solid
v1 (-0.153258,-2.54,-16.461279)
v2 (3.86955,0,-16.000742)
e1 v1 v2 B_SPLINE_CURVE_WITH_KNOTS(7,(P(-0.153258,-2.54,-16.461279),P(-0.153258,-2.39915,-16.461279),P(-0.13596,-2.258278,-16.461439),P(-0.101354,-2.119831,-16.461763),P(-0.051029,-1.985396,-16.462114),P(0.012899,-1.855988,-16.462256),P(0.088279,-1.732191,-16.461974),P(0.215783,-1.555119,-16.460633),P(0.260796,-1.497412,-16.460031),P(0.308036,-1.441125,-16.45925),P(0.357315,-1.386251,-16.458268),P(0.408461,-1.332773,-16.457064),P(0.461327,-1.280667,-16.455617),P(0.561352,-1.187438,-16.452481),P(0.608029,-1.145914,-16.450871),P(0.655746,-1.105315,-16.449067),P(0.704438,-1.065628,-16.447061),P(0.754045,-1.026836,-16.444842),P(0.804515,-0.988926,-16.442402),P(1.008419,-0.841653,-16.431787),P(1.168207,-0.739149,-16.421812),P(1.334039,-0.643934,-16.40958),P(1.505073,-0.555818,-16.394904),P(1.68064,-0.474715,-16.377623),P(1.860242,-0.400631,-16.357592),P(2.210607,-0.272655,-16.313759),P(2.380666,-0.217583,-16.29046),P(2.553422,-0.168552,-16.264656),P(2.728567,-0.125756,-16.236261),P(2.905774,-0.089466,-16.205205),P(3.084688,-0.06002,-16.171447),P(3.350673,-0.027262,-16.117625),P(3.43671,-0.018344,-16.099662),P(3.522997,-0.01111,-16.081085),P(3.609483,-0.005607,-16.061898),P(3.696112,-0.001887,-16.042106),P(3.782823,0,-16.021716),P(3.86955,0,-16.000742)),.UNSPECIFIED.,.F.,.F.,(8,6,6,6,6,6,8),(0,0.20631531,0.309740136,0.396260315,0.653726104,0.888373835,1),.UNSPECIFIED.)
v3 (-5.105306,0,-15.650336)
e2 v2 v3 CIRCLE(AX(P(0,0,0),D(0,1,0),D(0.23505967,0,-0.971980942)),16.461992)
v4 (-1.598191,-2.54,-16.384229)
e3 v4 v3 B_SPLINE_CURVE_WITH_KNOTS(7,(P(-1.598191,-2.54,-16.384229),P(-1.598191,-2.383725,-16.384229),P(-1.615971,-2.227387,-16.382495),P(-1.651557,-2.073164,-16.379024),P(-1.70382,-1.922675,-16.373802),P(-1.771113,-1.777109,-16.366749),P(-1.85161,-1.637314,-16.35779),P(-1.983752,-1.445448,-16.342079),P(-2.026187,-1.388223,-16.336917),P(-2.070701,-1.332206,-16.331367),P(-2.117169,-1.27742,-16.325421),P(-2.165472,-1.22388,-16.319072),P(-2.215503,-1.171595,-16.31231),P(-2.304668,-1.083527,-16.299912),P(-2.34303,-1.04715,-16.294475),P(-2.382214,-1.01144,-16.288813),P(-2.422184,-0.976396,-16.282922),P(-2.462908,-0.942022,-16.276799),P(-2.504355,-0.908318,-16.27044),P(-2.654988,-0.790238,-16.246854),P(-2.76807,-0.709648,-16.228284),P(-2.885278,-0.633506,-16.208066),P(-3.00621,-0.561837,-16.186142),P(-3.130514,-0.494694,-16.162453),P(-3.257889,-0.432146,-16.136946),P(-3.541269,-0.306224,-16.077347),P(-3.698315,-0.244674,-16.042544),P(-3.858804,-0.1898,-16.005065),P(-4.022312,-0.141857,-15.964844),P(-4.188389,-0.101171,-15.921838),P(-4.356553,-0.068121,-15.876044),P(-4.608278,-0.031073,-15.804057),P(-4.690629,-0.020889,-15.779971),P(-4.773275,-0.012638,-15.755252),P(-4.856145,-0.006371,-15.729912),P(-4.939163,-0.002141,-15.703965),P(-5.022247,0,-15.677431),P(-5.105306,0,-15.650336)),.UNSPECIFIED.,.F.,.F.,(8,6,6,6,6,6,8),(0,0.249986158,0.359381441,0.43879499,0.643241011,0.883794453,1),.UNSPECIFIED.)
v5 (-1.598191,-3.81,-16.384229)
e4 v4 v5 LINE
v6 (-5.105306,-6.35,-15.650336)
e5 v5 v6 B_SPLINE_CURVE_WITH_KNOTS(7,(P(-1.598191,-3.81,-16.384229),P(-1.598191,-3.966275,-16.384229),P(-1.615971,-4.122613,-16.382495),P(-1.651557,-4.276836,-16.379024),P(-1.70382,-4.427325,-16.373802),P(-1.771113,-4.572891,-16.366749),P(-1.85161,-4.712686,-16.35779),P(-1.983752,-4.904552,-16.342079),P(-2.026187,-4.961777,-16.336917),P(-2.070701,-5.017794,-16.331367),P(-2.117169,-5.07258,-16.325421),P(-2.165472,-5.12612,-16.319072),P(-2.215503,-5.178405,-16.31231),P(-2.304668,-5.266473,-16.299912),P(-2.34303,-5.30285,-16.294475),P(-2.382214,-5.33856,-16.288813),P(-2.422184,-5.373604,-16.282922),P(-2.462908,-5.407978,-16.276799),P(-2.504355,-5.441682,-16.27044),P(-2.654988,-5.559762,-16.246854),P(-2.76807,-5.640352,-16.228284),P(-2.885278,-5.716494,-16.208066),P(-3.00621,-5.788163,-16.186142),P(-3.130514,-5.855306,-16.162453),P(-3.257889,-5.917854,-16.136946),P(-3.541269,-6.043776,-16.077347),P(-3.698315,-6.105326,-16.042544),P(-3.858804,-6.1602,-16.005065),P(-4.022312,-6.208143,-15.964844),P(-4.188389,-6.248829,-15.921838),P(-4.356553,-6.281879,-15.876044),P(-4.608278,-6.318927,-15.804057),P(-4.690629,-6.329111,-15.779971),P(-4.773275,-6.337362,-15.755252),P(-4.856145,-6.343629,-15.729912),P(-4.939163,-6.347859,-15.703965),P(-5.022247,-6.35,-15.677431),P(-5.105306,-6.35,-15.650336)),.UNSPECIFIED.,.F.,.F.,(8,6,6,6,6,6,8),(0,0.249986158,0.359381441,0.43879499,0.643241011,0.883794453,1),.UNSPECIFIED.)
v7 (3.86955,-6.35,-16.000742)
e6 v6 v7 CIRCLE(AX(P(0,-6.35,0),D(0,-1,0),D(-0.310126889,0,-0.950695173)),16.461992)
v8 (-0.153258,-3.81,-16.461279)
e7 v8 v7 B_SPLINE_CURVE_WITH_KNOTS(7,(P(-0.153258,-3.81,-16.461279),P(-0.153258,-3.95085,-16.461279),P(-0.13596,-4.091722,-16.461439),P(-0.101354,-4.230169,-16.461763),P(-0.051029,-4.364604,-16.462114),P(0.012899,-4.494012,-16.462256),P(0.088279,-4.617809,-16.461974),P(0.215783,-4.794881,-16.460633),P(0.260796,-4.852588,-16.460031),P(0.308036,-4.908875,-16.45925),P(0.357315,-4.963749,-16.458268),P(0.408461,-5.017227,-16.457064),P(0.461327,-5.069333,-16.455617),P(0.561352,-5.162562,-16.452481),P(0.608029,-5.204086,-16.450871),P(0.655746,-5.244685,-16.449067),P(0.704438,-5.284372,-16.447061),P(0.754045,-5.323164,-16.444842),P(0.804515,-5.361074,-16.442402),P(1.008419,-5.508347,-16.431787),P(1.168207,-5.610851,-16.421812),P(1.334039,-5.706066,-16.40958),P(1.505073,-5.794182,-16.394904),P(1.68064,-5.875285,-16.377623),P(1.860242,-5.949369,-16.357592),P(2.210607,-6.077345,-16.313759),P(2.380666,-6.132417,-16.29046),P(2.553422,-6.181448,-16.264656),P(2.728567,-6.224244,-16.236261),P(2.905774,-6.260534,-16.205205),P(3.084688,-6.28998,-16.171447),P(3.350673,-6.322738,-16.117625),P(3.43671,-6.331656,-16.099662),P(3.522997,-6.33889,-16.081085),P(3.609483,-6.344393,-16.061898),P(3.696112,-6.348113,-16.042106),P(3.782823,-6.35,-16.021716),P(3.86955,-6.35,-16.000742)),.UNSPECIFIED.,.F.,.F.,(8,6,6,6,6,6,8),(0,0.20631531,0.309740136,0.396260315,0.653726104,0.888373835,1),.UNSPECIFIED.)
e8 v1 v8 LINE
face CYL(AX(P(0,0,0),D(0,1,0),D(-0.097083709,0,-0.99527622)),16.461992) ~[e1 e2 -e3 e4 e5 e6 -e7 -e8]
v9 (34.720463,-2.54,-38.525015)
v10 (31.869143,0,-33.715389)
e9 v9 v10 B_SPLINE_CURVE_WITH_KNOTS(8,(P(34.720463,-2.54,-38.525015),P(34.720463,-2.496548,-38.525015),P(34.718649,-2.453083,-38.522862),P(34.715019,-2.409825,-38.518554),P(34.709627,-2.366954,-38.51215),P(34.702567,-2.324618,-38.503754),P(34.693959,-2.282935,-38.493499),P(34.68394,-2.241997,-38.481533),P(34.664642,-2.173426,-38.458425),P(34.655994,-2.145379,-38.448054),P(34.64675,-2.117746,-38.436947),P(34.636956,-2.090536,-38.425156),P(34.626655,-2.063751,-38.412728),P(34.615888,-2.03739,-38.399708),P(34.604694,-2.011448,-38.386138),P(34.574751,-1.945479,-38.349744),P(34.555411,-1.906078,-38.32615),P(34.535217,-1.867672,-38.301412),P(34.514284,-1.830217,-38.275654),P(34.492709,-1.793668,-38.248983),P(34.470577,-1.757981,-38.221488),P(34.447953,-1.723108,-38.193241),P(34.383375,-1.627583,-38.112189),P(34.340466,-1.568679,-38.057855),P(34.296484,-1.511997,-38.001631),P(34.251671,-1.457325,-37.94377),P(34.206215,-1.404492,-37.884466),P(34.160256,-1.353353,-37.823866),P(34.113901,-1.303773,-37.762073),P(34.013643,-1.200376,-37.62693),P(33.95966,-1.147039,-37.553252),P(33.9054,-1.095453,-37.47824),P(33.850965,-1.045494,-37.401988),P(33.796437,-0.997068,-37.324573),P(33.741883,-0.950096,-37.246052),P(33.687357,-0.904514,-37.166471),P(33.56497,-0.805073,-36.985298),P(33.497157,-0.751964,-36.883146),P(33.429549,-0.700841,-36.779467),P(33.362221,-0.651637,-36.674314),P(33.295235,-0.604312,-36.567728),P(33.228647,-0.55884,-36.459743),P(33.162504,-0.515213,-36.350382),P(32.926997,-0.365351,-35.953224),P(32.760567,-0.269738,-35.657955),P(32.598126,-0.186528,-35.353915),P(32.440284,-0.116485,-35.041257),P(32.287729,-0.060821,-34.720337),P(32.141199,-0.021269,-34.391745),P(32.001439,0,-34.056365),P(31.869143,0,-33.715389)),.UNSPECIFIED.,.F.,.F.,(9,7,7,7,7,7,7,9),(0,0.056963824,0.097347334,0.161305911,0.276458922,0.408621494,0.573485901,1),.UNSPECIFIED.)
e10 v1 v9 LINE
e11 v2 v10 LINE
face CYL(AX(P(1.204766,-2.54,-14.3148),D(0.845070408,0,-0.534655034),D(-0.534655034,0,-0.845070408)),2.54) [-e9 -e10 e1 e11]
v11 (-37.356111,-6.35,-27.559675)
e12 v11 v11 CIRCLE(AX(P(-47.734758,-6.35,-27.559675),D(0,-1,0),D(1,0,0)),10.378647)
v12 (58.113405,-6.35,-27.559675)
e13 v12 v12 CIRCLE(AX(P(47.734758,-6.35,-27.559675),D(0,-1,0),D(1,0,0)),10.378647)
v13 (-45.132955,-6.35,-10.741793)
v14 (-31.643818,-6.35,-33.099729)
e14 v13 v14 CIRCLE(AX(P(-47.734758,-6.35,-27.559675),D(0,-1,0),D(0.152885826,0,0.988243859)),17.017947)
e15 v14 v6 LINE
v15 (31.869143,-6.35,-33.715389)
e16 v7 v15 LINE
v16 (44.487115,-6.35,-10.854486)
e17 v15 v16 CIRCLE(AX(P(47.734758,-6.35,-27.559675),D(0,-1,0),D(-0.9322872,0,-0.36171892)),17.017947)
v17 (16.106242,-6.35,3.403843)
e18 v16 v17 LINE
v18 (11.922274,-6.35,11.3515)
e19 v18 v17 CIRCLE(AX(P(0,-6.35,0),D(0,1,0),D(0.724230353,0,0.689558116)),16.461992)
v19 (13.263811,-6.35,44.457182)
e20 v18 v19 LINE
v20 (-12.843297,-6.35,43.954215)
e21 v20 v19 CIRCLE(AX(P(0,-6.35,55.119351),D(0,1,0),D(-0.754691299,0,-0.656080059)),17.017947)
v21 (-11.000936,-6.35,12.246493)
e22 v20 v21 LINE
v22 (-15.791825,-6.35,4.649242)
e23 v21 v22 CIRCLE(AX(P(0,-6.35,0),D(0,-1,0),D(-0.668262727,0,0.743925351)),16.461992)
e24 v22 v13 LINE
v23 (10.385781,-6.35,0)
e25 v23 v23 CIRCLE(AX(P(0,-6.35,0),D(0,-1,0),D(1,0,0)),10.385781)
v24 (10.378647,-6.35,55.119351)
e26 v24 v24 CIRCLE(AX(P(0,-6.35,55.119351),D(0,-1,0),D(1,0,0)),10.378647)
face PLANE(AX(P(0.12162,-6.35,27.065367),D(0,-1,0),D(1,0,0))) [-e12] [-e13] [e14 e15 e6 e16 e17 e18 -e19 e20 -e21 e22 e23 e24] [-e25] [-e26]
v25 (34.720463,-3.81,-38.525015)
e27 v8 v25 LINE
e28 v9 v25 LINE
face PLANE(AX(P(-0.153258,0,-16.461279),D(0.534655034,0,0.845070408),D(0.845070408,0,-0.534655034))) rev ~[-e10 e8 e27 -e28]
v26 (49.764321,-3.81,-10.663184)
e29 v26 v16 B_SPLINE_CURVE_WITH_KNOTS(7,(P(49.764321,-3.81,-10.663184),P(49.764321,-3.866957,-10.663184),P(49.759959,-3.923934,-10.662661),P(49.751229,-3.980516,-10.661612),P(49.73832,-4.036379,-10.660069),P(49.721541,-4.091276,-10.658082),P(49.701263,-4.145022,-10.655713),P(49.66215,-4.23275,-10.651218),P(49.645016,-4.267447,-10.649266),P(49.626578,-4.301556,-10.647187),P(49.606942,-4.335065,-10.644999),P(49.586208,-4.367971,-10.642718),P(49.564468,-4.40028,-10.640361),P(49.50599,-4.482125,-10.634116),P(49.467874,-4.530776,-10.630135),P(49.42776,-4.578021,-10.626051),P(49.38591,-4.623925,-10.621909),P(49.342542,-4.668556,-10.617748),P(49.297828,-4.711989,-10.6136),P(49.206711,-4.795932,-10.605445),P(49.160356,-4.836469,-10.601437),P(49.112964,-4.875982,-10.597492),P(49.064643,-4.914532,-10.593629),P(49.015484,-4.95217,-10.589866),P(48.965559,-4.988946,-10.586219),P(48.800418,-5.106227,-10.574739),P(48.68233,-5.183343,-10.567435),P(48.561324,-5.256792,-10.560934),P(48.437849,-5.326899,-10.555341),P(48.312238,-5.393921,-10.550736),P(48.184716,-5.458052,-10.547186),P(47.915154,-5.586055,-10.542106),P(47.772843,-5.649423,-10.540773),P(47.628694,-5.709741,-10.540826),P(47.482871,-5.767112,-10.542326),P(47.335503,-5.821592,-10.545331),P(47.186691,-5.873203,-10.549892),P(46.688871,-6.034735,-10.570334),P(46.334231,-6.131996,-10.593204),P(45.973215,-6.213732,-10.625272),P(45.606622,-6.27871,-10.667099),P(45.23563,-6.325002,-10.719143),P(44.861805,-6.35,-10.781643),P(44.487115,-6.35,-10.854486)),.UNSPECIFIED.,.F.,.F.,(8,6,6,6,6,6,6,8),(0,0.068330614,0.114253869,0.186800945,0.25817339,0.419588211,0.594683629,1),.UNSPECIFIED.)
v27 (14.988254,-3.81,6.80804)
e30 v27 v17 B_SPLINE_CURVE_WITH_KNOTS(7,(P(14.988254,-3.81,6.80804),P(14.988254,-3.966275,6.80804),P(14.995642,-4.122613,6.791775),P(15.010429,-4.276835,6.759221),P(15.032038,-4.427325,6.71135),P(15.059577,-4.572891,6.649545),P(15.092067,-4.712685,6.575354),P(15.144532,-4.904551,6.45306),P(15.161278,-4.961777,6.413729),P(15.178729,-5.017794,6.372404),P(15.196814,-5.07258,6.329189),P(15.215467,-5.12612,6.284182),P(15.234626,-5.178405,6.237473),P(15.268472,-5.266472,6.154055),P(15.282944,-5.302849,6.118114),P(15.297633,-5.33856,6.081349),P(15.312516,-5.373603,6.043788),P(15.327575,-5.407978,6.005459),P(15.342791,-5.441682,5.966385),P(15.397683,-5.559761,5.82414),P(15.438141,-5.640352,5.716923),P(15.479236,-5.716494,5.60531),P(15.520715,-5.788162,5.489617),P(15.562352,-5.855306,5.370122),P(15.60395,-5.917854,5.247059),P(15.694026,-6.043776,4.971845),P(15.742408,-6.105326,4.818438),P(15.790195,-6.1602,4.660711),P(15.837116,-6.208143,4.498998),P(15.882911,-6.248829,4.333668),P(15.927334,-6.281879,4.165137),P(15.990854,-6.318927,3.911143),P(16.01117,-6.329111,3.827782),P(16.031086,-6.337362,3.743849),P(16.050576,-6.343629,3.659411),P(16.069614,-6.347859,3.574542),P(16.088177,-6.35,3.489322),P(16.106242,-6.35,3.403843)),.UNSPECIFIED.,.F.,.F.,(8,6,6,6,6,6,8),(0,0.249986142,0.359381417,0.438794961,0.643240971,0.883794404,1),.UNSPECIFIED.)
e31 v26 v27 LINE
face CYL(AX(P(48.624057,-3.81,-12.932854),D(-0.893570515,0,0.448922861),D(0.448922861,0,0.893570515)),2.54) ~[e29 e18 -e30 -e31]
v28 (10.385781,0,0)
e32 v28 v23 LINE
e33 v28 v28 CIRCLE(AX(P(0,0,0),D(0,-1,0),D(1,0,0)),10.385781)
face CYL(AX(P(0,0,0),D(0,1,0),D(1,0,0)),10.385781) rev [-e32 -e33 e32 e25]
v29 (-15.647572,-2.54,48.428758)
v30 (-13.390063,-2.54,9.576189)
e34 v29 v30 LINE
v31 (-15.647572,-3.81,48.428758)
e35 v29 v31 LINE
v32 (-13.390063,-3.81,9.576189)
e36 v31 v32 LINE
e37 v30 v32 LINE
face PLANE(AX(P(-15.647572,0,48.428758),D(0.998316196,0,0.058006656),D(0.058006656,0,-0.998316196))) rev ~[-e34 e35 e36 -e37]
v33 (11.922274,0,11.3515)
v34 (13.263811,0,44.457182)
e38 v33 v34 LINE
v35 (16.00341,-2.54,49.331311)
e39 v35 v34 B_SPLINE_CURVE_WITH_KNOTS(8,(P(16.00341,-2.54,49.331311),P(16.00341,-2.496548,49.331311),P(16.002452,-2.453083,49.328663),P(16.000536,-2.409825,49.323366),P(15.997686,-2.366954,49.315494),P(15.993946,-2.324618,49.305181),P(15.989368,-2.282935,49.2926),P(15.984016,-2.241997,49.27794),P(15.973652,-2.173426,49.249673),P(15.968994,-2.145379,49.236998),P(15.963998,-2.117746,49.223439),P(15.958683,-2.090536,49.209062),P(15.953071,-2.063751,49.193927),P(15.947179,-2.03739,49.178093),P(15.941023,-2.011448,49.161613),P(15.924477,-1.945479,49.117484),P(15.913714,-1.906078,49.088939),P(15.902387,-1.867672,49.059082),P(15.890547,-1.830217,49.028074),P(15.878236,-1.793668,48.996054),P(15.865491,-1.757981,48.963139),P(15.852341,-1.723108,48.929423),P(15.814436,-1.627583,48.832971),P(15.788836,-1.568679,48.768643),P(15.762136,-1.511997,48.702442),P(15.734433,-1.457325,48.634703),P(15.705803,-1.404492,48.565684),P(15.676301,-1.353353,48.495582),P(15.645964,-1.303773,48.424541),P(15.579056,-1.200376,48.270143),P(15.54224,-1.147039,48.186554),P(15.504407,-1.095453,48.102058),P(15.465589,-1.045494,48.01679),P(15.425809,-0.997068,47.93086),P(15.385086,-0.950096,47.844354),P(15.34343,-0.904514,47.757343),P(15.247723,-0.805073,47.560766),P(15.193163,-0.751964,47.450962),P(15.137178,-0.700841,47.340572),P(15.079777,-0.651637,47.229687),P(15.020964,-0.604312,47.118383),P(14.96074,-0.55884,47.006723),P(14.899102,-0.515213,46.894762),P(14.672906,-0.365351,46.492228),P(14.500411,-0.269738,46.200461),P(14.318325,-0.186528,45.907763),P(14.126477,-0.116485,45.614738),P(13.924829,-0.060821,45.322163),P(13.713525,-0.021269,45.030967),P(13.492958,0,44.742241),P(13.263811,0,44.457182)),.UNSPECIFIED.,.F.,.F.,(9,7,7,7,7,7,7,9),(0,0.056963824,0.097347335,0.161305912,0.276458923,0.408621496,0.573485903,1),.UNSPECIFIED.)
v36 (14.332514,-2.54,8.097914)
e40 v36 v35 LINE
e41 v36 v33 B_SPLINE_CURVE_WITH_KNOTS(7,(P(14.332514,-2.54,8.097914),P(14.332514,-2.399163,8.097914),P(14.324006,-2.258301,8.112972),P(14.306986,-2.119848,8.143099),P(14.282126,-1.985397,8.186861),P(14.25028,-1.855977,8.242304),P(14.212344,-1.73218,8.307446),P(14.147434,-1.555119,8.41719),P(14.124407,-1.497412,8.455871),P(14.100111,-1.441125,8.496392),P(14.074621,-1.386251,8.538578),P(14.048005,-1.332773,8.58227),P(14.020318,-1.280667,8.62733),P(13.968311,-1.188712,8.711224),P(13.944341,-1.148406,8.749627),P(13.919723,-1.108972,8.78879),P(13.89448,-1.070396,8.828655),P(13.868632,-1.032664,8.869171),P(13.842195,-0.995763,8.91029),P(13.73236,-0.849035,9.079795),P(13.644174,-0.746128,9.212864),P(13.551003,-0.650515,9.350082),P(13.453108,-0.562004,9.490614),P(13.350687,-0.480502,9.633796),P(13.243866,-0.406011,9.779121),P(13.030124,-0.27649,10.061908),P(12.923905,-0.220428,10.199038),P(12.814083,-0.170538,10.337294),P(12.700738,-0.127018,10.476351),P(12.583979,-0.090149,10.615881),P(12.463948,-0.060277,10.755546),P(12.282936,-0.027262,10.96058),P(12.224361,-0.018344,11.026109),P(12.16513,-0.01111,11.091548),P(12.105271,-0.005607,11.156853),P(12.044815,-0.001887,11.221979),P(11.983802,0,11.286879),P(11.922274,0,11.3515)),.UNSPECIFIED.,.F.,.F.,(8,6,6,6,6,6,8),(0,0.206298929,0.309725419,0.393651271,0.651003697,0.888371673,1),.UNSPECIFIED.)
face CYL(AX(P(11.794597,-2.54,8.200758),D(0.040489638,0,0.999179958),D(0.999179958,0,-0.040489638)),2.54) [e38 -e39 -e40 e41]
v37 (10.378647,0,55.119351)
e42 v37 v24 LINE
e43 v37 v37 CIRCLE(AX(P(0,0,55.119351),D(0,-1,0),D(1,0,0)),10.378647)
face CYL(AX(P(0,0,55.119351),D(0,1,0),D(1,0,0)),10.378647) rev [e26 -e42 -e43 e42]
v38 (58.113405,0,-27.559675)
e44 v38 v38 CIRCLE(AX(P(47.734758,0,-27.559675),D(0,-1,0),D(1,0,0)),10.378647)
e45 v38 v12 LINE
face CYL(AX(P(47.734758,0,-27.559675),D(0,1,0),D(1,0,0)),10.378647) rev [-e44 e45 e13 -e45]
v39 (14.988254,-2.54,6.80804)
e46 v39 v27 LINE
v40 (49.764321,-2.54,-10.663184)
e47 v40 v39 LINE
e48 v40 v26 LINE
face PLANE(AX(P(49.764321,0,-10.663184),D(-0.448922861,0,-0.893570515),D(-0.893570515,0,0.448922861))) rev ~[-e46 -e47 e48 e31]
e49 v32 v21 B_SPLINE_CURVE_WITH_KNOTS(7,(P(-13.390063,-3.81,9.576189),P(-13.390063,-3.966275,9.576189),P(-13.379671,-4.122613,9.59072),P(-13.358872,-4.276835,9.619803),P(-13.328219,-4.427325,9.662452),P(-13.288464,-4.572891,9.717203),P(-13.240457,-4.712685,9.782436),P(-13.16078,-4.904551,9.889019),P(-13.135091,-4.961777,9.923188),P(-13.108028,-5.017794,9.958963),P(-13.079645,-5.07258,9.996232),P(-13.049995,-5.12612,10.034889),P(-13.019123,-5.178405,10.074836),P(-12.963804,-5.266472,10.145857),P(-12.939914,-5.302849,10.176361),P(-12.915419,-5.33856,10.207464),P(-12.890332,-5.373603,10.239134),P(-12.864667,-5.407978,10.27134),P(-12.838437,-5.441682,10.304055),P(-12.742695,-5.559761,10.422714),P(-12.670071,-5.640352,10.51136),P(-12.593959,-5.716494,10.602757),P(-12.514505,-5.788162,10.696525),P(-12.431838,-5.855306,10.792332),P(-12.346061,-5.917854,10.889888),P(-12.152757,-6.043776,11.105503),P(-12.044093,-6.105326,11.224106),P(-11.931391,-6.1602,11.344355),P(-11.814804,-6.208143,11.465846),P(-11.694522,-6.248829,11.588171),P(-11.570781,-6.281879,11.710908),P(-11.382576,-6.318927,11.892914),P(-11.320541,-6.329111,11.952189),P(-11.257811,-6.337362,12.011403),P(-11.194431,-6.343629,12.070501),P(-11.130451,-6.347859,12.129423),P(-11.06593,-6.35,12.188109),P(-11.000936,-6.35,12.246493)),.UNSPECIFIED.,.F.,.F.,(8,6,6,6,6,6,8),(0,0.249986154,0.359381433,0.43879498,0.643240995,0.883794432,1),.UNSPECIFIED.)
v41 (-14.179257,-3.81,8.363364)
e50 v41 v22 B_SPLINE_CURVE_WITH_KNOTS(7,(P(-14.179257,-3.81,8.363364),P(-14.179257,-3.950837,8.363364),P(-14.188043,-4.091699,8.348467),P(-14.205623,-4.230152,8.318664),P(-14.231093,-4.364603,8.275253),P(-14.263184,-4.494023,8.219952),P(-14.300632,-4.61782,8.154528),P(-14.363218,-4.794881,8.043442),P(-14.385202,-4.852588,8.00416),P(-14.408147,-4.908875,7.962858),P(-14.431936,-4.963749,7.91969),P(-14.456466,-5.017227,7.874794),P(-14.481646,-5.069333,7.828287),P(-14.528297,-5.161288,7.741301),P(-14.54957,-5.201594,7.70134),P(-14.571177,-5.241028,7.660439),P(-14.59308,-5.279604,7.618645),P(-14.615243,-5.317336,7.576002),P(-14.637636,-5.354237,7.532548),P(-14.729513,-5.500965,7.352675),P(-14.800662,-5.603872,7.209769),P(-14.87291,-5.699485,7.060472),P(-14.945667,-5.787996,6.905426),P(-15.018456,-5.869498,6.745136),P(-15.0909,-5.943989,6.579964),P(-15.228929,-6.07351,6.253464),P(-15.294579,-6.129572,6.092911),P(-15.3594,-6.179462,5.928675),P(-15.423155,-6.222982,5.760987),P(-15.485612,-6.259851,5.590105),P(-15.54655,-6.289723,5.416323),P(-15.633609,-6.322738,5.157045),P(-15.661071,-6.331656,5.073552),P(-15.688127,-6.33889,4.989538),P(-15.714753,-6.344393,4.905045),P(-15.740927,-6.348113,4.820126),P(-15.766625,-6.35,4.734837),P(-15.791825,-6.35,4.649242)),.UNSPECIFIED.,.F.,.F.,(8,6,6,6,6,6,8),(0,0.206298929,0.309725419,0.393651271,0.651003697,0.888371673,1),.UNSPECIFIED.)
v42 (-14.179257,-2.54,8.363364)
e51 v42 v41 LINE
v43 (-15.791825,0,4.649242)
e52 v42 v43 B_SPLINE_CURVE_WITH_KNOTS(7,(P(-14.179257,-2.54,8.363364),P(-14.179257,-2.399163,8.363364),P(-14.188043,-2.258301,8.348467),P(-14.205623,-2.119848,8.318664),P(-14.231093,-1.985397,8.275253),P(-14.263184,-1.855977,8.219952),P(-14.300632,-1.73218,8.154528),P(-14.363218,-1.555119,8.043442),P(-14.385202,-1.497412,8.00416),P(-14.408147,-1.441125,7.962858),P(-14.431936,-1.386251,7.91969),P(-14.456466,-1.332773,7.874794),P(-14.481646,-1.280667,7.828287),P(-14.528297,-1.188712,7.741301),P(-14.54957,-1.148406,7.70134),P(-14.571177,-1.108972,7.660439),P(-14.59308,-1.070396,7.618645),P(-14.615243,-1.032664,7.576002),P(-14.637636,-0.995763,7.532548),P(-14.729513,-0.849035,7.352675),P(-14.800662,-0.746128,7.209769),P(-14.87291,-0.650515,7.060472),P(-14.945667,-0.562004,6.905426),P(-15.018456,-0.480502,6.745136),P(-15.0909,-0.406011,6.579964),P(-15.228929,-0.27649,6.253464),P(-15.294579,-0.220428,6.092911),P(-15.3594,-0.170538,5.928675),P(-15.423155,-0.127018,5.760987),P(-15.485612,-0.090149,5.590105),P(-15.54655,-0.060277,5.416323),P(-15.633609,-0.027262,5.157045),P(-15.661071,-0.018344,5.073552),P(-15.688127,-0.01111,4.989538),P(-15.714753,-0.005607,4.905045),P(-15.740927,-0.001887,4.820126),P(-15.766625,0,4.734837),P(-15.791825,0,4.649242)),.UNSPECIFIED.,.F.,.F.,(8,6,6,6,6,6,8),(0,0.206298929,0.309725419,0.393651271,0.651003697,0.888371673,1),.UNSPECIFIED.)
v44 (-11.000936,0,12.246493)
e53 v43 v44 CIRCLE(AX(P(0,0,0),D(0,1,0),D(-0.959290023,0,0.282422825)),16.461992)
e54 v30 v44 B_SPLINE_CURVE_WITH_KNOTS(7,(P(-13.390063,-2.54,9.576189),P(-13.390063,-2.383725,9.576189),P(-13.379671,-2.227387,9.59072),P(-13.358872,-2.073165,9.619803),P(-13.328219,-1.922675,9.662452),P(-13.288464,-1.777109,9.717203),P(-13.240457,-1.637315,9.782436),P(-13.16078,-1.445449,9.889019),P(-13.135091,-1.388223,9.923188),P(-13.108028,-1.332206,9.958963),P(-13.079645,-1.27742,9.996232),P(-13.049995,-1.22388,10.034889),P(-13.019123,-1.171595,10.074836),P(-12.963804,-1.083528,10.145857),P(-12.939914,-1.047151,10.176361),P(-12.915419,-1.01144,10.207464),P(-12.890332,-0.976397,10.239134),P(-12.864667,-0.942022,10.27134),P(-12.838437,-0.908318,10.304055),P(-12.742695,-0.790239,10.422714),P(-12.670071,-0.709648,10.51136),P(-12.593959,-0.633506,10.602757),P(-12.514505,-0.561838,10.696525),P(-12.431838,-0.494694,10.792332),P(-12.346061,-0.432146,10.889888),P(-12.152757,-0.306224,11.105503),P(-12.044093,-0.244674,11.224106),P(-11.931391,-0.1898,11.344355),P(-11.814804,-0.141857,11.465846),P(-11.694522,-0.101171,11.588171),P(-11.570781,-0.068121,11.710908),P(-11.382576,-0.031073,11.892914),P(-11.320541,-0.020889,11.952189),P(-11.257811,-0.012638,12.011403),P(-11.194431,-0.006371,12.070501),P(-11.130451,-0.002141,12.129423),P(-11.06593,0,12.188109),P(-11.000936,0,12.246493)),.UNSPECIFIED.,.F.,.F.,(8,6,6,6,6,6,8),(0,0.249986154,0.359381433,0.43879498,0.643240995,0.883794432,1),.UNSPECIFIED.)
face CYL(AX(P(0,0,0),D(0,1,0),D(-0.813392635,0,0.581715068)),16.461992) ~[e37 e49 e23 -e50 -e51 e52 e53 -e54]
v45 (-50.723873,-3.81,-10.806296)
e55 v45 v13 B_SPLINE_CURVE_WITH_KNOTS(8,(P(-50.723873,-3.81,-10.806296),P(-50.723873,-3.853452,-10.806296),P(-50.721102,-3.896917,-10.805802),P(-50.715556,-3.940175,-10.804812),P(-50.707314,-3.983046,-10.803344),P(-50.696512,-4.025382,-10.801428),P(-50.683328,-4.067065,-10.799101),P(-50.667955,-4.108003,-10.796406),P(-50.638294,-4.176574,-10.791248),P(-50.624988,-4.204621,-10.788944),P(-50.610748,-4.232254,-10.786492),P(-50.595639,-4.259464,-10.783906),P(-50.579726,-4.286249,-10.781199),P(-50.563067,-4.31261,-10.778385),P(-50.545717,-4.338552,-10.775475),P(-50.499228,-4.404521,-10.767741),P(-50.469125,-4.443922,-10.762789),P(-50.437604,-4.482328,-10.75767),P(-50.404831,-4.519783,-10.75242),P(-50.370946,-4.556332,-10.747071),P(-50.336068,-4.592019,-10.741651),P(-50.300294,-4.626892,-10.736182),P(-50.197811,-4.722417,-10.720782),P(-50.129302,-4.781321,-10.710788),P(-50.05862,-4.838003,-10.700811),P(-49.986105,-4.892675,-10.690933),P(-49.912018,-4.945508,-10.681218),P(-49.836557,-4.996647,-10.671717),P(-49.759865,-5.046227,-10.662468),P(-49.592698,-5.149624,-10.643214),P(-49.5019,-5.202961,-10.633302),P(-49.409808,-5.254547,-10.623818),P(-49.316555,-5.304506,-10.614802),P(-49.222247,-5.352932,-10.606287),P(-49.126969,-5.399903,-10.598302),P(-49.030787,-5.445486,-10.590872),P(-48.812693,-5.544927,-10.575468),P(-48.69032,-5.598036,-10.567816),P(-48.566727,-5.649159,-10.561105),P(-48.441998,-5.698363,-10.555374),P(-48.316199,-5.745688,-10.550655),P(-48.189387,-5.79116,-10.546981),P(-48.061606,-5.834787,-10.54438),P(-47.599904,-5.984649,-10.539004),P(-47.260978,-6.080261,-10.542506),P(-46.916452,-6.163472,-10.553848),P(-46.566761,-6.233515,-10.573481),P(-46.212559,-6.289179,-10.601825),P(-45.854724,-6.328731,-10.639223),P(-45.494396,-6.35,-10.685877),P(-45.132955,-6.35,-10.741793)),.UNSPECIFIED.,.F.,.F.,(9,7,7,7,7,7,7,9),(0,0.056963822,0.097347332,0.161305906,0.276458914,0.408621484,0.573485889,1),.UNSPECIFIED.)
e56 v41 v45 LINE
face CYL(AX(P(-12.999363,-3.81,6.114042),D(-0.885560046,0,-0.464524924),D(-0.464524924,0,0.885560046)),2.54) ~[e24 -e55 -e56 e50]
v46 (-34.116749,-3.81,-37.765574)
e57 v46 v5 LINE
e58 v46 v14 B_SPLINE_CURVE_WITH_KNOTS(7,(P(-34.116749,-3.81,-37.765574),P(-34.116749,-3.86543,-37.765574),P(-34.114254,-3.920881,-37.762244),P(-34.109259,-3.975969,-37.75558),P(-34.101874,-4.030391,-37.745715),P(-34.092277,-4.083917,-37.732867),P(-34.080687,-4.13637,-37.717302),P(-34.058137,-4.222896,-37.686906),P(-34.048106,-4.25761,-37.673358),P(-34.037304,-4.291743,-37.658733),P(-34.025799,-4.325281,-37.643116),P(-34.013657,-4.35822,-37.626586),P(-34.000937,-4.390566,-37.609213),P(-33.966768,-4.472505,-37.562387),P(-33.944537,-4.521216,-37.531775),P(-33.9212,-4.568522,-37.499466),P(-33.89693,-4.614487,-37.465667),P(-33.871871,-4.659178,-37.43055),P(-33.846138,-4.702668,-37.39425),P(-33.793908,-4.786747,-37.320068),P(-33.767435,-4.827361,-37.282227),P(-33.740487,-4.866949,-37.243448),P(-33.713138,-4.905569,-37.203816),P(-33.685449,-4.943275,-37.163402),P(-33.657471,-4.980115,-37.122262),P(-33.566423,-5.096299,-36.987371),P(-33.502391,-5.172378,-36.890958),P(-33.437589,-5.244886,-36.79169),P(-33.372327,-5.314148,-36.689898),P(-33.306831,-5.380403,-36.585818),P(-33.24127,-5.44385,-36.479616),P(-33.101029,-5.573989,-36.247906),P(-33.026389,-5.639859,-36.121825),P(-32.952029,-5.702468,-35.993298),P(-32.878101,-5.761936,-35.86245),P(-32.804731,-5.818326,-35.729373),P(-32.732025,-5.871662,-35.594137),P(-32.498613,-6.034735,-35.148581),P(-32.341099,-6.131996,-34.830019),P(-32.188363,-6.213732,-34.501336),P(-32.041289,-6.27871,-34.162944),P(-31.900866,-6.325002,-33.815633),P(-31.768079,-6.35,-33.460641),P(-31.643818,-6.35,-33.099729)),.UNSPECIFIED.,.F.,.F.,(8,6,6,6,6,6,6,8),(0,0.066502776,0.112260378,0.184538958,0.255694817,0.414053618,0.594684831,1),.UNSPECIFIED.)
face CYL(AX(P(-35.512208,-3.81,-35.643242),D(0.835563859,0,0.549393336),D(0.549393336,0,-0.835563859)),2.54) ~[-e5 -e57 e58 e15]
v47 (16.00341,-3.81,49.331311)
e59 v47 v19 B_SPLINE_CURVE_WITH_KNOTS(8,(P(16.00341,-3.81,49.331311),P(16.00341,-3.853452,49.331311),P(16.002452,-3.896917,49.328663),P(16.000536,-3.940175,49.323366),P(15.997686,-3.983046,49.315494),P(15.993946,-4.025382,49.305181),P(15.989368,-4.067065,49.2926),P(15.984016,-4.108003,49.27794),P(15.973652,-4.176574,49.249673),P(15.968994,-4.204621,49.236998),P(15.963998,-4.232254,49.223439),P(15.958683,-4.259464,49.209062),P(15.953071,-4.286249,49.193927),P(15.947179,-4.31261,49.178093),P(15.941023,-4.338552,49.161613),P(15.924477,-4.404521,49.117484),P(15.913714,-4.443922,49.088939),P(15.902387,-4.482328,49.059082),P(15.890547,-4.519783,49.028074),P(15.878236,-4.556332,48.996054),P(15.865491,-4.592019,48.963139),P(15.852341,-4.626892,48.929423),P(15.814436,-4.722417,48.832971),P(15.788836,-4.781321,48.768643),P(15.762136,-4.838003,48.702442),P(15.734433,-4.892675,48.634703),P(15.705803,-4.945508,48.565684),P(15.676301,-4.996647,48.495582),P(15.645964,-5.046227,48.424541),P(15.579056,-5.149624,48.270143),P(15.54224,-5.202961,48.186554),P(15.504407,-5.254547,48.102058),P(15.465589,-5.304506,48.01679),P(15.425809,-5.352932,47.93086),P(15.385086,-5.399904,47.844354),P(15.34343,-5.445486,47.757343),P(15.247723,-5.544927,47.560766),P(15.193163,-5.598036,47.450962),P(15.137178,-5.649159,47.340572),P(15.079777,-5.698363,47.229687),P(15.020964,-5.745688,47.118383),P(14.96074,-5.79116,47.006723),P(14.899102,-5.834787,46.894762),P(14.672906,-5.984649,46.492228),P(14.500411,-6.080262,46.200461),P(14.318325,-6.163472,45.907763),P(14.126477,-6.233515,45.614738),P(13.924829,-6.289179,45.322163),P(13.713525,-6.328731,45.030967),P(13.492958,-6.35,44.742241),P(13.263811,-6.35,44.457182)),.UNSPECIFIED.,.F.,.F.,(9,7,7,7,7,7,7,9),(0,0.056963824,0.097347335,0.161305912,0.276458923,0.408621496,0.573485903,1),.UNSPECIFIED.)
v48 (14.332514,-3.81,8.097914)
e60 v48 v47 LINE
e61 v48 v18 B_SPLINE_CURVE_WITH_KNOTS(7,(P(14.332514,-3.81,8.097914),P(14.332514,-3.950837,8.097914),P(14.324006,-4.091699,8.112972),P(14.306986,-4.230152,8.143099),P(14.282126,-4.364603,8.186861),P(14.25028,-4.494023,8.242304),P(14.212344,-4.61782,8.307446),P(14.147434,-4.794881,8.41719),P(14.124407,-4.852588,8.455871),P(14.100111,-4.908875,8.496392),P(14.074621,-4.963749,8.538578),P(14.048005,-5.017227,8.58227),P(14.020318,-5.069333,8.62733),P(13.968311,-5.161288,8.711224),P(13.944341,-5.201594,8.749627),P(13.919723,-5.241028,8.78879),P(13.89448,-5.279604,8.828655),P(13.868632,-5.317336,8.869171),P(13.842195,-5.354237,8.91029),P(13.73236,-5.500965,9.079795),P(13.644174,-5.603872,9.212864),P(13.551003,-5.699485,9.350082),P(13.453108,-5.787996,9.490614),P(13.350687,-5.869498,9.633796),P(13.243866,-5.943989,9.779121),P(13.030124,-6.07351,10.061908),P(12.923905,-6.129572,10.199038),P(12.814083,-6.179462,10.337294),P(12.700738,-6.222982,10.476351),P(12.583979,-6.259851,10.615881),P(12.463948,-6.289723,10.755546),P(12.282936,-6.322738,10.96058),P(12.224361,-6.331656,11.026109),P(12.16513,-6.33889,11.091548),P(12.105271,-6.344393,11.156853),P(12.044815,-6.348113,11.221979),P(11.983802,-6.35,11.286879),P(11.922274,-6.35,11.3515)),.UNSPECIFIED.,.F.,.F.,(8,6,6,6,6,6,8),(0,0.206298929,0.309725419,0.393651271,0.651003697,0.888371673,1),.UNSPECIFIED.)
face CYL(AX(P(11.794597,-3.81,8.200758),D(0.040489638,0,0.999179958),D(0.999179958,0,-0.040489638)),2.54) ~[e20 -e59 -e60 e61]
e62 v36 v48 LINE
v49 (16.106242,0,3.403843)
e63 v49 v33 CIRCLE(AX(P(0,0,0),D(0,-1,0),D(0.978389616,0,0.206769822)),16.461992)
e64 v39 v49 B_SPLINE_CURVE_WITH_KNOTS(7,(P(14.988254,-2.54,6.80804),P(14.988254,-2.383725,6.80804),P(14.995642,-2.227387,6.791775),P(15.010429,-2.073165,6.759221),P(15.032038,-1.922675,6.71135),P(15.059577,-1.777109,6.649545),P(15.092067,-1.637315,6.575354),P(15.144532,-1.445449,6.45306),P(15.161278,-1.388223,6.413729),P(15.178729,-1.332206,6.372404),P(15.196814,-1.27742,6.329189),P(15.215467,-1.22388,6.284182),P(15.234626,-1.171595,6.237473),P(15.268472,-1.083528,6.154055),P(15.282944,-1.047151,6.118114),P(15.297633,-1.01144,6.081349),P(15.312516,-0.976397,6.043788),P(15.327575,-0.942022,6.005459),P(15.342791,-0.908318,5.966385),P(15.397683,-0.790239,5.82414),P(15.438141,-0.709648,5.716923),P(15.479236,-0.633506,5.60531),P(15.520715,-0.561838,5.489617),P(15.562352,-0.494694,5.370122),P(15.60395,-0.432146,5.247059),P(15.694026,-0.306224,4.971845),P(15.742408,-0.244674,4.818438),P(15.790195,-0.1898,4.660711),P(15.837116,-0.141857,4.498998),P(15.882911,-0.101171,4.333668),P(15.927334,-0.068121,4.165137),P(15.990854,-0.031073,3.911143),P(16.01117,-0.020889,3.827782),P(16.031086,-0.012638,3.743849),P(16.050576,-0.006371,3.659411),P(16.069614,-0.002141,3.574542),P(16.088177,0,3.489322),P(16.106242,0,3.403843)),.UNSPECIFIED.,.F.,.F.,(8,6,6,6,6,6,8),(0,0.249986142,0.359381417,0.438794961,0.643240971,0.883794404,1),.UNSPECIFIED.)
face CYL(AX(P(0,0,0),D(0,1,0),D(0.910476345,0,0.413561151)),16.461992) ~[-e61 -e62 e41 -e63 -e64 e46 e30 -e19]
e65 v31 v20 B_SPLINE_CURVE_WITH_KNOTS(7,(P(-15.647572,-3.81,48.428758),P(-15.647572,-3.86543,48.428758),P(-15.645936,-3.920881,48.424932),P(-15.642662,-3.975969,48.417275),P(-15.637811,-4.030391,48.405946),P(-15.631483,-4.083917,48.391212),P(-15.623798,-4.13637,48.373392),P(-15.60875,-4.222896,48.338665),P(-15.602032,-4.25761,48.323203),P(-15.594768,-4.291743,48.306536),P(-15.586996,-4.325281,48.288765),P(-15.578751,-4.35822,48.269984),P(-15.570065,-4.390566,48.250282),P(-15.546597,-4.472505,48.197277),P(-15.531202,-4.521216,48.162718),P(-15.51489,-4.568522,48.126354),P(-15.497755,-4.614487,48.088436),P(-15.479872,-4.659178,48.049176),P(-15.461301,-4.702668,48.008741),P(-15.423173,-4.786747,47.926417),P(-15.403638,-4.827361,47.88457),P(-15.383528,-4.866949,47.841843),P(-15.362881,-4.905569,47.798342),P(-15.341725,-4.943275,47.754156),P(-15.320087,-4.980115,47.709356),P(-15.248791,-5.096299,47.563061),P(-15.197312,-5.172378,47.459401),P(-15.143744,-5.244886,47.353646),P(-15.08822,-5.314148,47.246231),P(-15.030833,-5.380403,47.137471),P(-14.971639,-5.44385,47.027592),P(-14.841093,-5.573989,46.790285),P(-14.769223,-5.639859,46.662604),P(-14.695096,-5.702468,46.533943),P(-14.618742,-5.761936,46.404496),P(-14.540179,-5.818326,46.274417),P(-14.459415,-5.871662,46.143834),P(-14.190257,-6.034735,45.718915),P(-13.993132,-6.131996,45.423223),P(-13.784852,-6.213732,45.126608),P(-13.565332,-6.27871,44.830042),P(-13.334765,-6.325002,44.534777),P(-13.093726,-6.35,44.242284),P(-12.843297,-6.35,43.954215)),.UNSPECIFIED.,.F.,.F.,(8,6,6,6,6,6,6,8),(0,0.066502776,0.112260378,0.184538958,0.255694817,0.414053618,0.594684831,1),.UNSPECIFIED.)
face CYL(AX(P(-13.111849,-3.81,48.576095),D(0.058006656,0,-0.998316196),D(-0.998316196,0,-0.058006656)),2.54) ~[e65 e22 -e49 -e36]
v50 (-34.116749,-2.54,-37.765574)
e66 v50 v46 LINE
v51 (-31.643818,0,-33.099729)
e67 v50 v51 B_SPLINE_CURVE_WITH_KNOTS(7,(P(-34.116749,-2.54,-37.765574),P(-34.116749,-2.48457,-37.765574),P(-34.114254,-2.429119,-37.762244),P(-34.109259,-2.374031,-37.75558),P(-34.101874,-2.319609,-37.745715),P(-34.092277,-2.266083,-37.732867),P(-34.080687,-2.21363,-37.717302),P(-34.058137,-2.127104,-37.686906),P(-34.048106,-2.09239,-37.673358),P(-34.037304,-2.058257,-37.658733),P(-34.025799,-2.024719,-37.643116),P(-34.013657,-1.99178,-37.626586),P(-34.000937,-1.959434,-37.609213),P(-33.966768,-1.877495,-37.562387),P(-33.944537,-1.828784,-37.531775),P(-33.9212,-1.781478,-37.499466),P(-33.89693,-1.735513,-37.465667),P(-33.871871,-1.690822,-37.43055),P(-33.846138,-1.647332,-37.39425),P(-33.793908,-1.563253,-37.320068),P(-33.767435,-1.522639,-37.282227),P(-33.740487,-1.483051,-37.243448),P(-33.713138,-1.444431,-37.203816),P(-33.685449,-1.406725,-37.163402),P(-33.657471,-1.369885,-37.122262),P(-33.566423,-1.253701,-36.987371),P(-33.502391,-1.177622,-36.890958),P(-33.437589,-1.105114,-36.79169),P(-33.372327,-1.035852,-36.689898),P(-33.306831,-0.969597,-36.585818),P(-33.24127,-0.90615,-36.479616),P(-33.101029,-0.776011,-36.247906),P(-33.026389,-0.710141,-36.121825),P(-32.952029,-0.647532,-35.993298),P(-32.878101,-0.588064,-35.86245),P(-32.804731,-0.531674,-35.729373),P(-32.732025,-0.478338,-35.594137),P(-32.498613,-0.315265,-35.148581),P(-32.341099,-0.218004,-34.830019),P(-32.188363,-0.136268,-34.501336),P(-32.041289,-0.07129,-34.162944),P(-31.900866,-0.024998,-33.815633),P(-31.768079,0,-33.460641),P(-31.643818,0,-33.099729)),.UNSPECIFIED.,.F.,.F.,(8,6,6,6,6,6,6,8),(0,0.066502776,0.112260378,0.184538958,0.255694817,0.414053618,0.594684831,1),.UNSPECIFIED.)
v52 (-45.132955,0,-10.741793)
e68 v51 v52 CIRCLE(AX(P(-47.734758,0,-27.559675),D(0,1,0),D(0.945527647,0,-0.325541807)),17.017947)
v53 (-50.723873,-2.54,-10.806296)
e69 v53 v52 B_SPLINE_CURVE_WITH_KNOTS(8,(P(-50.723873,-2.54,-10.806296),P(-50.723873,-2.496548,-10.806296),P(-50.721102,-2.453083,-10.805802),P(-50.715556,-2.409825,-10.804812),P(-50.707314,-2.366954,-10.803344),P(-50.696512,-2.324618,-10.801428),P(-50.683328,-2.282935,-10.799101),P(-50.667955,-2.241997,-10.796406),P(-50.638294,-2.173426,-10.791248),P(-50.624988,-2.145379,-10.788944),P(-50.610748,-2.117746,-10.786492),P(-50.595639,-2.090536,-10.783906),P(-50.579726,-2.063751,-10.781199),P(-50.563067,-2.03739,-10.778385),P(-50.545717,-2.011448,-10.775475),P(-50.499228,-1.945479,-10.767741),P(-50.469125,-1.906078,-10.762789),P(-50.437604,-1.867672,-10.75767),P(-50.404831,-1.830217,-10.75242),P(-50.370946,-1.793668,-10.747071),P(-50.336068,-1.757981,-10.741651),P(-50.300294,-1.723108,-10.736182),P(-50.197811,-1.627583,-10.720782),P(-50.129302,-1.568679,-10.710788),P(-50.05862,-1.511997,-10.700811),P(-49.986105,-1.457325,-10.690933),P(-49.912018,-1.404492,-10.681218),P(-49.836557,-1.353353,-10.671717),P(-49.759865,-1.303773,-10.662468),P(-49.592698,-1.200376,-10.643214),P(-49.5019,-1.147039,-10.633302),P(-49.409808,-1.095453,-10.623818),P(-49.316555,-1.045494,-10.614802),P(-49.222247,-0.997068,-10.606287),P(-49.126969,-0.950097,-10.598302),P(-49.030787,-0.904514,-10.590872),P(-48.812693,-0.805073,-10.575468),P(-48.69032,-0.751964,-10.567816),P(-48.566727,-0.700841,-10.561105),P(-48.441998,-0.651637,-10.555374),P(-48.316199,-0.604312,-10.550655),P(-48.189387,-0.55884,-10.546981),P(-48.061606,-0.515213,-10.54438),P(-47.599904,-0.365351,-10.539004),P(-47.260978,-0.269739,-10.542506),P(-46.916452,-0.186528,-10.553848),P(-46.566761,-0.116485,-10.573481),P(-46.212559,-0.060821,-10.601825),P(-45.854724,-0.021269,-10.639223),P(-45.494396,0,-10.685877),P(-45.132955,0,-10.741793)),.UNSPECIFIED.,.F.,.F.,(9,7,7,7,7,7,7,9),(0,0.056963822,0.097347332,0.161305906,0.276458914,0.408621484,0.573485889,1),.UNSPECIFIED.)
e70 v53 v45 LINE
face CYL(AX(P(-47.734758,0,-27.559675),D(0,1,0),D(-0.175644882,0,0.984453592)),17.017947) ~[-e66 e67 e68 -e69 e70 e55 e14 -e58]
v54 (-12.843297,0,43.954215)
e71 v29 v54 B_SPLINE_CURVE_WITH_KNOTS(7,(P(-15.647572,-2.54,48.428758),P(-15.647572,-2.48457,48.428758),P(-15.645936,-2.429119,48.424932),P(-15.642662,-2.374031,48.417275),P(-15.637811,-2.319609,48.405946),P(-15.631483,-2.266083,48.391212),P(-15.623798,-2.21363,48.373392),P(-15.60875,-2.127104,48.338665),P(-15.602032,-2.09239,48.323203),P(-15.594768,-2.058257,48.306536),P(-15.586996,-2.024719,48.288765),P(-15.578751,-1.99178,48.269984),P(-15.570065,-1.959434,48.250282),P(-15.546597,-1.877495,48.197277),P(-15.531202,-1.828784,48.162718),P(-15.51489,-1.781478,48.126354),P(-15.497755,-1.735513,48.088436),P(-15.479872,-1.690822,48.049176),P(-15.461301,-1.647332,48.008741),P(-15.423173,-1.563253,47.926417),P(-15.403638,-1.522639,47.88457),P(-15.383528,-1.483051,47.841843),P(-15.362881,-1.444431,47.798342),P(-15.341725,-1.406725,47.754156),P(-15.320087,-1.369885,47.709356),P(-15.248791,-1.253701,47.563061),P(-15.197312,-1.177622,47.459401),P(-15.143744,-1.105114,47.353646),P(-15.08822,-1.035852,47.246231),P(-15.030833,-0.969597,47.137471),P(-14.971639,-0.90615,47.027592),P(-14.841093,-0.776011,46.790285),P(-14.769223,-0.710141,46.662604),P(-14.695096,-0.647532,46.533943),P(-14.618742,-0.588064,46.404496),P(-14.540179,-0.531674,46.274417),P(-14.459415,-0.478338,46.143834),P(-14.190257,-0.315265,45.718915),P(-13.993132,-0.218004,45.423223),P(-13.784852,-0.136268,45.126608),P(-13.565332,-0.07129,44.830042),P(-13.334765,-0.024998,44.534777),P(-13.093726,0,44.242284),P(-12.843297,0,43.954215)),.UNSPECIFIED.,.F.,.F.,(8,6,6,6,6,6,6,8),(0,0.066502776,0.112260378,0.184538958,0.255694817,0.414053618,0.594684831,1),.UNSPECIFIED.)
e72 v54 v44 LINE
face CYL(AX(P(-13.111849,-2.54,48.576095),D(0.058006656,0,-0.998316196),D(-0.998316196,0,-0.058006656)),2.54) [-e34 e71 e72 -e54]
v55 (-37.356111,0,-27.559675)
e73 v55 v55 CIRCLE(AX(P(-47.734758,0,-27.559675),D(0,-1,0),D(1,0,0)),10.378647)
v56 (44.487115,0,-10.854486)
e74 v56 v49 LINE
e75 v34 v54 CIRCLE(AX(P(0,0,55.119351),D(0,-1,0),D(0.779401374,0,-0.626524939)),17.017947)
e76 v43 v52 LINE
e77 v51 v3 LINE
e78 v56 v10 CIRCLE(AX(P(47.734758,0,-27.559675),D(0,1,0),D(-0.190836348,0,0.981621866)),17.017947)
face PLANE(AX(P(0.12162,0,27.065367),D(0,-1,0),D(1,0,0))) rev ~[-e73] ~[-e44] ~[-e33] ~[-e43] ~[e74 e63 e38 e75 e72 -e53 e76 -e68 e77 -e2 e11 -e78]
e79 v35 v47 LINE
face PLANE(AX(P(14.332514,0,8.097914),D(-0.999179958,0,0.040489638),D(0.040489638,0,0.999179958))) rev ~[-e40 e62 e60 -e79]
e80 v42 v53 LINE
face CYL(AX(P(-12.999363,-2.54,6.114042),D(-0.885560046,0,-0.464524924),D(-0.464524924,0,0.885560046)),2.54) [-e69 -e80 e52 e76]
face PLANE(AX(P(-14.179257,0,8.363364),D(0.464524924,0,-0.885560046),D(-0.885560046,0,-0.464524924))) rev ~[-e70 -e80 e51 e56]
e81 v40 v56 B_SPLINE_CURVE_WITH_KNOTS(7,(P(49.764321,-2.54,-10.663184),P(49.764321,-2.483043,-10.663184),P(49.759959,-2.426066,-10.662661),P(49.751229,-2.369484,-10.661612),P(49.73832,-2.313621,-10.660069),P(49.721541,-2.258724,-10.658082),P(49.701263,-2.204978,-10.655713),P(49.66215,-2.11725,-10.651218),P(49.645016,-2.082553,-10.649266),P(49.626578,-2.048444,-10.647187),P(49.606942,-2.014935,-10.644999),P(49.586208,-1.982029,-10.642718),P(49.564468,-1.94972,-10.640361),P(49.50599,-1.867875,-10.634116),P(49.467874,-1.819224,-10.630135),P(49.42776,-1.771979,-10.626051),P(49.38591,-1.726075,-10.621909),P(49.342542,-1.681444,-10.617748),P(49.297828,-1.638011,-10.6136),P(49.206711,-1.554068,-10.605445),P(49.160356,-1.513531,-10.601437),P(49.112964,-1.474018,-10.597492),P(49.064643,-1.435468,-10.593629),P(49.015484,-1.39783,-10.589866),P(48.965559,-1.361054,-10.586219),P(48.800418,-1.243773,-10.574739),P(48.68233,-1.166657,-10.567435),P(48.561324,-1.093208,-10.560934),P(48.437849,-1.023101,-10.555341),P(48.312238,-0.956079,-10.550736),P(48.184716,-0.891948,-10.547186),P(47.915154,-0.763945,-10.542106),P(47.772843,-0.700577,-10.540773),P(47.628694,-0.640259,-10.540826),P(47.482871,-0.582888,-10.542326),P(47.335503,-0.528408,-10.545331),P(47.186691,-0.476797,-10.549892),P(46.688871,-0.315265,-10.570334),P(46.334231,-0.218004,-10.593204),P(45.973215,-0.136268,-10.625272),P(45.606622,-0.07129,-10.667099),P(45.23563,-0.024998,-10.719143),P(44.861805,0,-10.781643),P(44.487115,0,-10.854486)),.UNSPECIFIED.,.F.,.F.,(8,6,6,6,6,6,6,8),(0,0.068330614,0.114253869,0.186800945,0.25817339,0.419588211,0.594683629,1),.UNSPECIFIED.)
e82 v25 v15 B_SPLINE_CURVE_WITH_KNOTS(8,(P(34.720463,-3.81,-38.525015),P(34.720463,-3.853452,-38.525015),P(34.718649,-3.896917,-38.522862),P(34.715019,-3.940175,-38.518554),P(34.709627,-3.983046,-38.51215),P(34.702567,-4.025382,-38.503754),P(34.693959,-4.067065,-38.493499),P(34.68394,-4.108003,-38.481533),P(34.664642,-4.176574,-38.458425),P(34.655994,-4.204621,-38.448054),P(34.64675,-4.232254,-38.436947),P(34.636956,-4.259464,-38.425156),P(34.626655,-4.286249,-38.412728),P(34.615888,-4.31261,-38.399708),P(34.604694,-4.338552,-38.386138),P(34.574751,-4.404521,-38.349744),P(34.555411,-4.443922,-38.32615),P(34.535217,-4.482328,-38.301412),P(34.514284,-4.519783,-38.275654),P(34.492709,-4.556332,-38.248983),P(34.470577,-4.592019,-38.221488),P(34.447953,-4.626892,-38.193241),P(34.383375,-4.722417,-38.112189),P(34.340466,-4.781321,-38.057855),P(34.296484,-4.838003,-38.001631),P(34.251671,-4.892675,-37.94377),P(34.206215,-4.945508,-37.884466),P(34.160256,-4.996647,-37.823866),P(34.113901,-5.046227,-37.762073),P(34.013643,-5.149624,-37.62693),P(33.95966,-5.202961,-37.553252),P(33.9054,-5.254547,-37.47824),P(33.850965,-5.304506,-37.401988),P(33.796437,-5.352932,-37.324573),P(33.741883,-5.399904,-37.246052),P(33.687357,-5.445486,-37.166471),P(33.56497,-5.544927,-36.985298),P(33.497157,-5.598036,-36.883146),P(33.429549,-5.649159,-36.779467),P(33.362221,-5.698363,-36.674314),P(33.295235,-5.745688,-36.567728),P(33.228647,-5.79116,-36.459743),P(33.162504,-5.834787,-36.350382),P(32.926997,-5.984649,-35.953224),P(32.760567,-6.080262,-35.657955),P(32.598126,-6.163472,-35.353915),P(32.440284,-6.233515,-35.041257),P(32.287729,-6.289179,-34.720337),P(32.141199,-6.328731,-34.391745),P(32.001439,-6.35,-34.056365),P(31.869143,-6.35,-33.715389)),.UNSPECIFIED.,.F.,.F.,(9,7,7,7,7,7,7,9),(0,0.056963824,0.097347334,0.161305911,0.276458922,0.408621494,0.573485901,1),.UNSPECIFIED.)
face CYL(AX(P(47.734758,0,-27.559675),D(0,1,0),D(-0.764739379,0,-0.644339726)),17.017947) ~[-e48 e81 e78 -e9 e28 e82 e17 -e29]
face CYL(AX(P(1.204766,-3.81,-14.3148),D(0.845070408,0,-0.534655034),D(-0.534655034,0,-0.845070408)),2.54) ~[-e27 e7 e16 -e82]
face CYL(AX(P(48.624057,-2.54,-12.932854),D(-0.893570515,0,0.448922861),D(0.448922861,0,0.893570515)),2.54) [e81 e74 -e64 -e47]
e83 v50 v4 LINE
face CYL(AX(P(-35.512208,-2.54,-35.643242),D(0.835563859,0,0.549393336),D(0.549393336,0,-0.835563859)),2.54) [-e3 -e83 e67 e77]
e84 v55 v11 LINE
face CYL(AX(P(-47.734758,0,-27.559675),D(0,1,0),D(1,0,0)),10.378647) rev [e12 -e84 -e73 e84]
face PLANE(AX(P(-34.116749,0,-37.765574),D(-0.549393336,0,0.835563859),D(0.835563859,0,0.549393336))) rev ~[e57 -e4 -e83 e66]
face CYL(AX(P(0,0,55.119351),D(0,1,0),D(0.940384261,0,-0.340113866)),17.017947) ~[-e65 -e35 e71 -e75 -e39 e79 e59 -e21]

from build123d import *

# Parameters (mm, degrees)
F0_R     = 10.3857806341
F0_R_2   = 10.3786468128
F1_DEPTH = 6.35
F2_R     = 2.54
F3_R     = 2.54


with BuildPart() as f1:
    # F0 (on Front) → F1 (new body)
    with BuildSketch(Plane.XZ):
        with BuildLine():
            Line((14.3325142405, 8.0979142801), (16.0034097486, 49.3313107205))
            ThreePointArc((16.0034097486, 49.3313107205), (-0.4850827816, 72.1303829543), (-15.6475718809, 48.4287584328))
            Line((-15.6475718809, 48.4287584328), (-13.390063044, 9.576188794))
            ThreePointArc((-13.390063044, 9.576188794), (-13.7979919658, 8.9784518628), (-14.1792566045, 8.3633642923))
            ThreePointArc((-14.1792566045, 8.3633642923), (-14.6745633827, -7.4601856322), (-1.598191245, -16.3842291514))
            ThreePointArc((-1.598191245, -16.3842291514), (-0.876571417, -16.438637495), (-0.153257636, -16.4612785724))
            ThreePointArc((-0.153257636, -16.4612785724), (13.7979919658, -8.9784518628), (14.988254289, 6.8080403574))
            ThreePointArc((14.988254289, 6.8080403574), (14.6745633827, 7.4601856322), (14.3325142405, 8.0979142801))
        make_face()
        Circle(F0_R, mode=Mode.SUBTRACT)
        with Locations((0, 55.1193505526)):
            Circle(F0_R_2, mode=Mode.SUBTRACT)
        with BuildLine():
            Line((49.764321017, -10.66318446), (14.988254289, 6.8080403574))
            ThreePointArc((14.988254289, 6.8080403574), (13.7979919658, -8.9784518628), (-0.153257636, -16.4612785724))
            Line((-0.153257636, -16.4612785724), (34.7204634116, -38.5250147497))
            ThreePointArc((34.7204634116, -38.5250147497), (62.709285414, -35.6450974653), (49.764321017, -10.66318446))
        make_face()
        with Locations((47.7347578186, -27.5596752763)):
            Circle(F0_R_2, mode=Mode.SUBTRACT)
        with BuildLine():
            ThreePointArc((-1.598191245, -16.3842291514), (-14.6745633827, -7.4601856322), (-14.1792566045, 8.3633642923))
            Line((-14.1792566045, 8.3633642923), (-50.7238731603, -10.8062959708))
            ThreePointArc((-50.7238731603, -10.8062959708), (-62.2242026323, -36.485285489), (-34.1167491361, -37.7655739728))
            Line((-34.1167491361, -37.7655739728), (-1.598191245, -16.3842291514))
        make_face()
        with Locations((-47.7347578186, -27.5596752763)):
            Circle(F0_R_2, mode=Mode.SUBTRACT)
    extrude(amount=F1_DEPTH)

    # F2
    f2_edges = [f1.edges().sort_by_distance(p)[0] for p in [
        (15.167962, 0, 28.714613),
        (-14.518817, 0, 29.002474),
        (32.376288, 0, -1.927572),
        (17.283603, 0, -27.493147),
        (-17.85747, 0, -27.074902),
        (-32.451565, 0, -1.221466),
    ]]
    fillet(f2_edges, radius=F2_R)

    # F3
    f3_edges = [f1.edges().sort_by_distance(p)[0] for p in [
        (15.167962, -6.35, 28.714613),
        (-14.518817, -6.35, 29.002474),
        (-32.451565, -6.35, -1.221466),
        (-17.85747, -6.35, -27.074902),
        (17.283603, -6.35, -27.493147),
        (32.376288, -6.35, -1.927572),
    ]]
    fillet(f3_edges, radius=F3_R)


solid = f1.part
